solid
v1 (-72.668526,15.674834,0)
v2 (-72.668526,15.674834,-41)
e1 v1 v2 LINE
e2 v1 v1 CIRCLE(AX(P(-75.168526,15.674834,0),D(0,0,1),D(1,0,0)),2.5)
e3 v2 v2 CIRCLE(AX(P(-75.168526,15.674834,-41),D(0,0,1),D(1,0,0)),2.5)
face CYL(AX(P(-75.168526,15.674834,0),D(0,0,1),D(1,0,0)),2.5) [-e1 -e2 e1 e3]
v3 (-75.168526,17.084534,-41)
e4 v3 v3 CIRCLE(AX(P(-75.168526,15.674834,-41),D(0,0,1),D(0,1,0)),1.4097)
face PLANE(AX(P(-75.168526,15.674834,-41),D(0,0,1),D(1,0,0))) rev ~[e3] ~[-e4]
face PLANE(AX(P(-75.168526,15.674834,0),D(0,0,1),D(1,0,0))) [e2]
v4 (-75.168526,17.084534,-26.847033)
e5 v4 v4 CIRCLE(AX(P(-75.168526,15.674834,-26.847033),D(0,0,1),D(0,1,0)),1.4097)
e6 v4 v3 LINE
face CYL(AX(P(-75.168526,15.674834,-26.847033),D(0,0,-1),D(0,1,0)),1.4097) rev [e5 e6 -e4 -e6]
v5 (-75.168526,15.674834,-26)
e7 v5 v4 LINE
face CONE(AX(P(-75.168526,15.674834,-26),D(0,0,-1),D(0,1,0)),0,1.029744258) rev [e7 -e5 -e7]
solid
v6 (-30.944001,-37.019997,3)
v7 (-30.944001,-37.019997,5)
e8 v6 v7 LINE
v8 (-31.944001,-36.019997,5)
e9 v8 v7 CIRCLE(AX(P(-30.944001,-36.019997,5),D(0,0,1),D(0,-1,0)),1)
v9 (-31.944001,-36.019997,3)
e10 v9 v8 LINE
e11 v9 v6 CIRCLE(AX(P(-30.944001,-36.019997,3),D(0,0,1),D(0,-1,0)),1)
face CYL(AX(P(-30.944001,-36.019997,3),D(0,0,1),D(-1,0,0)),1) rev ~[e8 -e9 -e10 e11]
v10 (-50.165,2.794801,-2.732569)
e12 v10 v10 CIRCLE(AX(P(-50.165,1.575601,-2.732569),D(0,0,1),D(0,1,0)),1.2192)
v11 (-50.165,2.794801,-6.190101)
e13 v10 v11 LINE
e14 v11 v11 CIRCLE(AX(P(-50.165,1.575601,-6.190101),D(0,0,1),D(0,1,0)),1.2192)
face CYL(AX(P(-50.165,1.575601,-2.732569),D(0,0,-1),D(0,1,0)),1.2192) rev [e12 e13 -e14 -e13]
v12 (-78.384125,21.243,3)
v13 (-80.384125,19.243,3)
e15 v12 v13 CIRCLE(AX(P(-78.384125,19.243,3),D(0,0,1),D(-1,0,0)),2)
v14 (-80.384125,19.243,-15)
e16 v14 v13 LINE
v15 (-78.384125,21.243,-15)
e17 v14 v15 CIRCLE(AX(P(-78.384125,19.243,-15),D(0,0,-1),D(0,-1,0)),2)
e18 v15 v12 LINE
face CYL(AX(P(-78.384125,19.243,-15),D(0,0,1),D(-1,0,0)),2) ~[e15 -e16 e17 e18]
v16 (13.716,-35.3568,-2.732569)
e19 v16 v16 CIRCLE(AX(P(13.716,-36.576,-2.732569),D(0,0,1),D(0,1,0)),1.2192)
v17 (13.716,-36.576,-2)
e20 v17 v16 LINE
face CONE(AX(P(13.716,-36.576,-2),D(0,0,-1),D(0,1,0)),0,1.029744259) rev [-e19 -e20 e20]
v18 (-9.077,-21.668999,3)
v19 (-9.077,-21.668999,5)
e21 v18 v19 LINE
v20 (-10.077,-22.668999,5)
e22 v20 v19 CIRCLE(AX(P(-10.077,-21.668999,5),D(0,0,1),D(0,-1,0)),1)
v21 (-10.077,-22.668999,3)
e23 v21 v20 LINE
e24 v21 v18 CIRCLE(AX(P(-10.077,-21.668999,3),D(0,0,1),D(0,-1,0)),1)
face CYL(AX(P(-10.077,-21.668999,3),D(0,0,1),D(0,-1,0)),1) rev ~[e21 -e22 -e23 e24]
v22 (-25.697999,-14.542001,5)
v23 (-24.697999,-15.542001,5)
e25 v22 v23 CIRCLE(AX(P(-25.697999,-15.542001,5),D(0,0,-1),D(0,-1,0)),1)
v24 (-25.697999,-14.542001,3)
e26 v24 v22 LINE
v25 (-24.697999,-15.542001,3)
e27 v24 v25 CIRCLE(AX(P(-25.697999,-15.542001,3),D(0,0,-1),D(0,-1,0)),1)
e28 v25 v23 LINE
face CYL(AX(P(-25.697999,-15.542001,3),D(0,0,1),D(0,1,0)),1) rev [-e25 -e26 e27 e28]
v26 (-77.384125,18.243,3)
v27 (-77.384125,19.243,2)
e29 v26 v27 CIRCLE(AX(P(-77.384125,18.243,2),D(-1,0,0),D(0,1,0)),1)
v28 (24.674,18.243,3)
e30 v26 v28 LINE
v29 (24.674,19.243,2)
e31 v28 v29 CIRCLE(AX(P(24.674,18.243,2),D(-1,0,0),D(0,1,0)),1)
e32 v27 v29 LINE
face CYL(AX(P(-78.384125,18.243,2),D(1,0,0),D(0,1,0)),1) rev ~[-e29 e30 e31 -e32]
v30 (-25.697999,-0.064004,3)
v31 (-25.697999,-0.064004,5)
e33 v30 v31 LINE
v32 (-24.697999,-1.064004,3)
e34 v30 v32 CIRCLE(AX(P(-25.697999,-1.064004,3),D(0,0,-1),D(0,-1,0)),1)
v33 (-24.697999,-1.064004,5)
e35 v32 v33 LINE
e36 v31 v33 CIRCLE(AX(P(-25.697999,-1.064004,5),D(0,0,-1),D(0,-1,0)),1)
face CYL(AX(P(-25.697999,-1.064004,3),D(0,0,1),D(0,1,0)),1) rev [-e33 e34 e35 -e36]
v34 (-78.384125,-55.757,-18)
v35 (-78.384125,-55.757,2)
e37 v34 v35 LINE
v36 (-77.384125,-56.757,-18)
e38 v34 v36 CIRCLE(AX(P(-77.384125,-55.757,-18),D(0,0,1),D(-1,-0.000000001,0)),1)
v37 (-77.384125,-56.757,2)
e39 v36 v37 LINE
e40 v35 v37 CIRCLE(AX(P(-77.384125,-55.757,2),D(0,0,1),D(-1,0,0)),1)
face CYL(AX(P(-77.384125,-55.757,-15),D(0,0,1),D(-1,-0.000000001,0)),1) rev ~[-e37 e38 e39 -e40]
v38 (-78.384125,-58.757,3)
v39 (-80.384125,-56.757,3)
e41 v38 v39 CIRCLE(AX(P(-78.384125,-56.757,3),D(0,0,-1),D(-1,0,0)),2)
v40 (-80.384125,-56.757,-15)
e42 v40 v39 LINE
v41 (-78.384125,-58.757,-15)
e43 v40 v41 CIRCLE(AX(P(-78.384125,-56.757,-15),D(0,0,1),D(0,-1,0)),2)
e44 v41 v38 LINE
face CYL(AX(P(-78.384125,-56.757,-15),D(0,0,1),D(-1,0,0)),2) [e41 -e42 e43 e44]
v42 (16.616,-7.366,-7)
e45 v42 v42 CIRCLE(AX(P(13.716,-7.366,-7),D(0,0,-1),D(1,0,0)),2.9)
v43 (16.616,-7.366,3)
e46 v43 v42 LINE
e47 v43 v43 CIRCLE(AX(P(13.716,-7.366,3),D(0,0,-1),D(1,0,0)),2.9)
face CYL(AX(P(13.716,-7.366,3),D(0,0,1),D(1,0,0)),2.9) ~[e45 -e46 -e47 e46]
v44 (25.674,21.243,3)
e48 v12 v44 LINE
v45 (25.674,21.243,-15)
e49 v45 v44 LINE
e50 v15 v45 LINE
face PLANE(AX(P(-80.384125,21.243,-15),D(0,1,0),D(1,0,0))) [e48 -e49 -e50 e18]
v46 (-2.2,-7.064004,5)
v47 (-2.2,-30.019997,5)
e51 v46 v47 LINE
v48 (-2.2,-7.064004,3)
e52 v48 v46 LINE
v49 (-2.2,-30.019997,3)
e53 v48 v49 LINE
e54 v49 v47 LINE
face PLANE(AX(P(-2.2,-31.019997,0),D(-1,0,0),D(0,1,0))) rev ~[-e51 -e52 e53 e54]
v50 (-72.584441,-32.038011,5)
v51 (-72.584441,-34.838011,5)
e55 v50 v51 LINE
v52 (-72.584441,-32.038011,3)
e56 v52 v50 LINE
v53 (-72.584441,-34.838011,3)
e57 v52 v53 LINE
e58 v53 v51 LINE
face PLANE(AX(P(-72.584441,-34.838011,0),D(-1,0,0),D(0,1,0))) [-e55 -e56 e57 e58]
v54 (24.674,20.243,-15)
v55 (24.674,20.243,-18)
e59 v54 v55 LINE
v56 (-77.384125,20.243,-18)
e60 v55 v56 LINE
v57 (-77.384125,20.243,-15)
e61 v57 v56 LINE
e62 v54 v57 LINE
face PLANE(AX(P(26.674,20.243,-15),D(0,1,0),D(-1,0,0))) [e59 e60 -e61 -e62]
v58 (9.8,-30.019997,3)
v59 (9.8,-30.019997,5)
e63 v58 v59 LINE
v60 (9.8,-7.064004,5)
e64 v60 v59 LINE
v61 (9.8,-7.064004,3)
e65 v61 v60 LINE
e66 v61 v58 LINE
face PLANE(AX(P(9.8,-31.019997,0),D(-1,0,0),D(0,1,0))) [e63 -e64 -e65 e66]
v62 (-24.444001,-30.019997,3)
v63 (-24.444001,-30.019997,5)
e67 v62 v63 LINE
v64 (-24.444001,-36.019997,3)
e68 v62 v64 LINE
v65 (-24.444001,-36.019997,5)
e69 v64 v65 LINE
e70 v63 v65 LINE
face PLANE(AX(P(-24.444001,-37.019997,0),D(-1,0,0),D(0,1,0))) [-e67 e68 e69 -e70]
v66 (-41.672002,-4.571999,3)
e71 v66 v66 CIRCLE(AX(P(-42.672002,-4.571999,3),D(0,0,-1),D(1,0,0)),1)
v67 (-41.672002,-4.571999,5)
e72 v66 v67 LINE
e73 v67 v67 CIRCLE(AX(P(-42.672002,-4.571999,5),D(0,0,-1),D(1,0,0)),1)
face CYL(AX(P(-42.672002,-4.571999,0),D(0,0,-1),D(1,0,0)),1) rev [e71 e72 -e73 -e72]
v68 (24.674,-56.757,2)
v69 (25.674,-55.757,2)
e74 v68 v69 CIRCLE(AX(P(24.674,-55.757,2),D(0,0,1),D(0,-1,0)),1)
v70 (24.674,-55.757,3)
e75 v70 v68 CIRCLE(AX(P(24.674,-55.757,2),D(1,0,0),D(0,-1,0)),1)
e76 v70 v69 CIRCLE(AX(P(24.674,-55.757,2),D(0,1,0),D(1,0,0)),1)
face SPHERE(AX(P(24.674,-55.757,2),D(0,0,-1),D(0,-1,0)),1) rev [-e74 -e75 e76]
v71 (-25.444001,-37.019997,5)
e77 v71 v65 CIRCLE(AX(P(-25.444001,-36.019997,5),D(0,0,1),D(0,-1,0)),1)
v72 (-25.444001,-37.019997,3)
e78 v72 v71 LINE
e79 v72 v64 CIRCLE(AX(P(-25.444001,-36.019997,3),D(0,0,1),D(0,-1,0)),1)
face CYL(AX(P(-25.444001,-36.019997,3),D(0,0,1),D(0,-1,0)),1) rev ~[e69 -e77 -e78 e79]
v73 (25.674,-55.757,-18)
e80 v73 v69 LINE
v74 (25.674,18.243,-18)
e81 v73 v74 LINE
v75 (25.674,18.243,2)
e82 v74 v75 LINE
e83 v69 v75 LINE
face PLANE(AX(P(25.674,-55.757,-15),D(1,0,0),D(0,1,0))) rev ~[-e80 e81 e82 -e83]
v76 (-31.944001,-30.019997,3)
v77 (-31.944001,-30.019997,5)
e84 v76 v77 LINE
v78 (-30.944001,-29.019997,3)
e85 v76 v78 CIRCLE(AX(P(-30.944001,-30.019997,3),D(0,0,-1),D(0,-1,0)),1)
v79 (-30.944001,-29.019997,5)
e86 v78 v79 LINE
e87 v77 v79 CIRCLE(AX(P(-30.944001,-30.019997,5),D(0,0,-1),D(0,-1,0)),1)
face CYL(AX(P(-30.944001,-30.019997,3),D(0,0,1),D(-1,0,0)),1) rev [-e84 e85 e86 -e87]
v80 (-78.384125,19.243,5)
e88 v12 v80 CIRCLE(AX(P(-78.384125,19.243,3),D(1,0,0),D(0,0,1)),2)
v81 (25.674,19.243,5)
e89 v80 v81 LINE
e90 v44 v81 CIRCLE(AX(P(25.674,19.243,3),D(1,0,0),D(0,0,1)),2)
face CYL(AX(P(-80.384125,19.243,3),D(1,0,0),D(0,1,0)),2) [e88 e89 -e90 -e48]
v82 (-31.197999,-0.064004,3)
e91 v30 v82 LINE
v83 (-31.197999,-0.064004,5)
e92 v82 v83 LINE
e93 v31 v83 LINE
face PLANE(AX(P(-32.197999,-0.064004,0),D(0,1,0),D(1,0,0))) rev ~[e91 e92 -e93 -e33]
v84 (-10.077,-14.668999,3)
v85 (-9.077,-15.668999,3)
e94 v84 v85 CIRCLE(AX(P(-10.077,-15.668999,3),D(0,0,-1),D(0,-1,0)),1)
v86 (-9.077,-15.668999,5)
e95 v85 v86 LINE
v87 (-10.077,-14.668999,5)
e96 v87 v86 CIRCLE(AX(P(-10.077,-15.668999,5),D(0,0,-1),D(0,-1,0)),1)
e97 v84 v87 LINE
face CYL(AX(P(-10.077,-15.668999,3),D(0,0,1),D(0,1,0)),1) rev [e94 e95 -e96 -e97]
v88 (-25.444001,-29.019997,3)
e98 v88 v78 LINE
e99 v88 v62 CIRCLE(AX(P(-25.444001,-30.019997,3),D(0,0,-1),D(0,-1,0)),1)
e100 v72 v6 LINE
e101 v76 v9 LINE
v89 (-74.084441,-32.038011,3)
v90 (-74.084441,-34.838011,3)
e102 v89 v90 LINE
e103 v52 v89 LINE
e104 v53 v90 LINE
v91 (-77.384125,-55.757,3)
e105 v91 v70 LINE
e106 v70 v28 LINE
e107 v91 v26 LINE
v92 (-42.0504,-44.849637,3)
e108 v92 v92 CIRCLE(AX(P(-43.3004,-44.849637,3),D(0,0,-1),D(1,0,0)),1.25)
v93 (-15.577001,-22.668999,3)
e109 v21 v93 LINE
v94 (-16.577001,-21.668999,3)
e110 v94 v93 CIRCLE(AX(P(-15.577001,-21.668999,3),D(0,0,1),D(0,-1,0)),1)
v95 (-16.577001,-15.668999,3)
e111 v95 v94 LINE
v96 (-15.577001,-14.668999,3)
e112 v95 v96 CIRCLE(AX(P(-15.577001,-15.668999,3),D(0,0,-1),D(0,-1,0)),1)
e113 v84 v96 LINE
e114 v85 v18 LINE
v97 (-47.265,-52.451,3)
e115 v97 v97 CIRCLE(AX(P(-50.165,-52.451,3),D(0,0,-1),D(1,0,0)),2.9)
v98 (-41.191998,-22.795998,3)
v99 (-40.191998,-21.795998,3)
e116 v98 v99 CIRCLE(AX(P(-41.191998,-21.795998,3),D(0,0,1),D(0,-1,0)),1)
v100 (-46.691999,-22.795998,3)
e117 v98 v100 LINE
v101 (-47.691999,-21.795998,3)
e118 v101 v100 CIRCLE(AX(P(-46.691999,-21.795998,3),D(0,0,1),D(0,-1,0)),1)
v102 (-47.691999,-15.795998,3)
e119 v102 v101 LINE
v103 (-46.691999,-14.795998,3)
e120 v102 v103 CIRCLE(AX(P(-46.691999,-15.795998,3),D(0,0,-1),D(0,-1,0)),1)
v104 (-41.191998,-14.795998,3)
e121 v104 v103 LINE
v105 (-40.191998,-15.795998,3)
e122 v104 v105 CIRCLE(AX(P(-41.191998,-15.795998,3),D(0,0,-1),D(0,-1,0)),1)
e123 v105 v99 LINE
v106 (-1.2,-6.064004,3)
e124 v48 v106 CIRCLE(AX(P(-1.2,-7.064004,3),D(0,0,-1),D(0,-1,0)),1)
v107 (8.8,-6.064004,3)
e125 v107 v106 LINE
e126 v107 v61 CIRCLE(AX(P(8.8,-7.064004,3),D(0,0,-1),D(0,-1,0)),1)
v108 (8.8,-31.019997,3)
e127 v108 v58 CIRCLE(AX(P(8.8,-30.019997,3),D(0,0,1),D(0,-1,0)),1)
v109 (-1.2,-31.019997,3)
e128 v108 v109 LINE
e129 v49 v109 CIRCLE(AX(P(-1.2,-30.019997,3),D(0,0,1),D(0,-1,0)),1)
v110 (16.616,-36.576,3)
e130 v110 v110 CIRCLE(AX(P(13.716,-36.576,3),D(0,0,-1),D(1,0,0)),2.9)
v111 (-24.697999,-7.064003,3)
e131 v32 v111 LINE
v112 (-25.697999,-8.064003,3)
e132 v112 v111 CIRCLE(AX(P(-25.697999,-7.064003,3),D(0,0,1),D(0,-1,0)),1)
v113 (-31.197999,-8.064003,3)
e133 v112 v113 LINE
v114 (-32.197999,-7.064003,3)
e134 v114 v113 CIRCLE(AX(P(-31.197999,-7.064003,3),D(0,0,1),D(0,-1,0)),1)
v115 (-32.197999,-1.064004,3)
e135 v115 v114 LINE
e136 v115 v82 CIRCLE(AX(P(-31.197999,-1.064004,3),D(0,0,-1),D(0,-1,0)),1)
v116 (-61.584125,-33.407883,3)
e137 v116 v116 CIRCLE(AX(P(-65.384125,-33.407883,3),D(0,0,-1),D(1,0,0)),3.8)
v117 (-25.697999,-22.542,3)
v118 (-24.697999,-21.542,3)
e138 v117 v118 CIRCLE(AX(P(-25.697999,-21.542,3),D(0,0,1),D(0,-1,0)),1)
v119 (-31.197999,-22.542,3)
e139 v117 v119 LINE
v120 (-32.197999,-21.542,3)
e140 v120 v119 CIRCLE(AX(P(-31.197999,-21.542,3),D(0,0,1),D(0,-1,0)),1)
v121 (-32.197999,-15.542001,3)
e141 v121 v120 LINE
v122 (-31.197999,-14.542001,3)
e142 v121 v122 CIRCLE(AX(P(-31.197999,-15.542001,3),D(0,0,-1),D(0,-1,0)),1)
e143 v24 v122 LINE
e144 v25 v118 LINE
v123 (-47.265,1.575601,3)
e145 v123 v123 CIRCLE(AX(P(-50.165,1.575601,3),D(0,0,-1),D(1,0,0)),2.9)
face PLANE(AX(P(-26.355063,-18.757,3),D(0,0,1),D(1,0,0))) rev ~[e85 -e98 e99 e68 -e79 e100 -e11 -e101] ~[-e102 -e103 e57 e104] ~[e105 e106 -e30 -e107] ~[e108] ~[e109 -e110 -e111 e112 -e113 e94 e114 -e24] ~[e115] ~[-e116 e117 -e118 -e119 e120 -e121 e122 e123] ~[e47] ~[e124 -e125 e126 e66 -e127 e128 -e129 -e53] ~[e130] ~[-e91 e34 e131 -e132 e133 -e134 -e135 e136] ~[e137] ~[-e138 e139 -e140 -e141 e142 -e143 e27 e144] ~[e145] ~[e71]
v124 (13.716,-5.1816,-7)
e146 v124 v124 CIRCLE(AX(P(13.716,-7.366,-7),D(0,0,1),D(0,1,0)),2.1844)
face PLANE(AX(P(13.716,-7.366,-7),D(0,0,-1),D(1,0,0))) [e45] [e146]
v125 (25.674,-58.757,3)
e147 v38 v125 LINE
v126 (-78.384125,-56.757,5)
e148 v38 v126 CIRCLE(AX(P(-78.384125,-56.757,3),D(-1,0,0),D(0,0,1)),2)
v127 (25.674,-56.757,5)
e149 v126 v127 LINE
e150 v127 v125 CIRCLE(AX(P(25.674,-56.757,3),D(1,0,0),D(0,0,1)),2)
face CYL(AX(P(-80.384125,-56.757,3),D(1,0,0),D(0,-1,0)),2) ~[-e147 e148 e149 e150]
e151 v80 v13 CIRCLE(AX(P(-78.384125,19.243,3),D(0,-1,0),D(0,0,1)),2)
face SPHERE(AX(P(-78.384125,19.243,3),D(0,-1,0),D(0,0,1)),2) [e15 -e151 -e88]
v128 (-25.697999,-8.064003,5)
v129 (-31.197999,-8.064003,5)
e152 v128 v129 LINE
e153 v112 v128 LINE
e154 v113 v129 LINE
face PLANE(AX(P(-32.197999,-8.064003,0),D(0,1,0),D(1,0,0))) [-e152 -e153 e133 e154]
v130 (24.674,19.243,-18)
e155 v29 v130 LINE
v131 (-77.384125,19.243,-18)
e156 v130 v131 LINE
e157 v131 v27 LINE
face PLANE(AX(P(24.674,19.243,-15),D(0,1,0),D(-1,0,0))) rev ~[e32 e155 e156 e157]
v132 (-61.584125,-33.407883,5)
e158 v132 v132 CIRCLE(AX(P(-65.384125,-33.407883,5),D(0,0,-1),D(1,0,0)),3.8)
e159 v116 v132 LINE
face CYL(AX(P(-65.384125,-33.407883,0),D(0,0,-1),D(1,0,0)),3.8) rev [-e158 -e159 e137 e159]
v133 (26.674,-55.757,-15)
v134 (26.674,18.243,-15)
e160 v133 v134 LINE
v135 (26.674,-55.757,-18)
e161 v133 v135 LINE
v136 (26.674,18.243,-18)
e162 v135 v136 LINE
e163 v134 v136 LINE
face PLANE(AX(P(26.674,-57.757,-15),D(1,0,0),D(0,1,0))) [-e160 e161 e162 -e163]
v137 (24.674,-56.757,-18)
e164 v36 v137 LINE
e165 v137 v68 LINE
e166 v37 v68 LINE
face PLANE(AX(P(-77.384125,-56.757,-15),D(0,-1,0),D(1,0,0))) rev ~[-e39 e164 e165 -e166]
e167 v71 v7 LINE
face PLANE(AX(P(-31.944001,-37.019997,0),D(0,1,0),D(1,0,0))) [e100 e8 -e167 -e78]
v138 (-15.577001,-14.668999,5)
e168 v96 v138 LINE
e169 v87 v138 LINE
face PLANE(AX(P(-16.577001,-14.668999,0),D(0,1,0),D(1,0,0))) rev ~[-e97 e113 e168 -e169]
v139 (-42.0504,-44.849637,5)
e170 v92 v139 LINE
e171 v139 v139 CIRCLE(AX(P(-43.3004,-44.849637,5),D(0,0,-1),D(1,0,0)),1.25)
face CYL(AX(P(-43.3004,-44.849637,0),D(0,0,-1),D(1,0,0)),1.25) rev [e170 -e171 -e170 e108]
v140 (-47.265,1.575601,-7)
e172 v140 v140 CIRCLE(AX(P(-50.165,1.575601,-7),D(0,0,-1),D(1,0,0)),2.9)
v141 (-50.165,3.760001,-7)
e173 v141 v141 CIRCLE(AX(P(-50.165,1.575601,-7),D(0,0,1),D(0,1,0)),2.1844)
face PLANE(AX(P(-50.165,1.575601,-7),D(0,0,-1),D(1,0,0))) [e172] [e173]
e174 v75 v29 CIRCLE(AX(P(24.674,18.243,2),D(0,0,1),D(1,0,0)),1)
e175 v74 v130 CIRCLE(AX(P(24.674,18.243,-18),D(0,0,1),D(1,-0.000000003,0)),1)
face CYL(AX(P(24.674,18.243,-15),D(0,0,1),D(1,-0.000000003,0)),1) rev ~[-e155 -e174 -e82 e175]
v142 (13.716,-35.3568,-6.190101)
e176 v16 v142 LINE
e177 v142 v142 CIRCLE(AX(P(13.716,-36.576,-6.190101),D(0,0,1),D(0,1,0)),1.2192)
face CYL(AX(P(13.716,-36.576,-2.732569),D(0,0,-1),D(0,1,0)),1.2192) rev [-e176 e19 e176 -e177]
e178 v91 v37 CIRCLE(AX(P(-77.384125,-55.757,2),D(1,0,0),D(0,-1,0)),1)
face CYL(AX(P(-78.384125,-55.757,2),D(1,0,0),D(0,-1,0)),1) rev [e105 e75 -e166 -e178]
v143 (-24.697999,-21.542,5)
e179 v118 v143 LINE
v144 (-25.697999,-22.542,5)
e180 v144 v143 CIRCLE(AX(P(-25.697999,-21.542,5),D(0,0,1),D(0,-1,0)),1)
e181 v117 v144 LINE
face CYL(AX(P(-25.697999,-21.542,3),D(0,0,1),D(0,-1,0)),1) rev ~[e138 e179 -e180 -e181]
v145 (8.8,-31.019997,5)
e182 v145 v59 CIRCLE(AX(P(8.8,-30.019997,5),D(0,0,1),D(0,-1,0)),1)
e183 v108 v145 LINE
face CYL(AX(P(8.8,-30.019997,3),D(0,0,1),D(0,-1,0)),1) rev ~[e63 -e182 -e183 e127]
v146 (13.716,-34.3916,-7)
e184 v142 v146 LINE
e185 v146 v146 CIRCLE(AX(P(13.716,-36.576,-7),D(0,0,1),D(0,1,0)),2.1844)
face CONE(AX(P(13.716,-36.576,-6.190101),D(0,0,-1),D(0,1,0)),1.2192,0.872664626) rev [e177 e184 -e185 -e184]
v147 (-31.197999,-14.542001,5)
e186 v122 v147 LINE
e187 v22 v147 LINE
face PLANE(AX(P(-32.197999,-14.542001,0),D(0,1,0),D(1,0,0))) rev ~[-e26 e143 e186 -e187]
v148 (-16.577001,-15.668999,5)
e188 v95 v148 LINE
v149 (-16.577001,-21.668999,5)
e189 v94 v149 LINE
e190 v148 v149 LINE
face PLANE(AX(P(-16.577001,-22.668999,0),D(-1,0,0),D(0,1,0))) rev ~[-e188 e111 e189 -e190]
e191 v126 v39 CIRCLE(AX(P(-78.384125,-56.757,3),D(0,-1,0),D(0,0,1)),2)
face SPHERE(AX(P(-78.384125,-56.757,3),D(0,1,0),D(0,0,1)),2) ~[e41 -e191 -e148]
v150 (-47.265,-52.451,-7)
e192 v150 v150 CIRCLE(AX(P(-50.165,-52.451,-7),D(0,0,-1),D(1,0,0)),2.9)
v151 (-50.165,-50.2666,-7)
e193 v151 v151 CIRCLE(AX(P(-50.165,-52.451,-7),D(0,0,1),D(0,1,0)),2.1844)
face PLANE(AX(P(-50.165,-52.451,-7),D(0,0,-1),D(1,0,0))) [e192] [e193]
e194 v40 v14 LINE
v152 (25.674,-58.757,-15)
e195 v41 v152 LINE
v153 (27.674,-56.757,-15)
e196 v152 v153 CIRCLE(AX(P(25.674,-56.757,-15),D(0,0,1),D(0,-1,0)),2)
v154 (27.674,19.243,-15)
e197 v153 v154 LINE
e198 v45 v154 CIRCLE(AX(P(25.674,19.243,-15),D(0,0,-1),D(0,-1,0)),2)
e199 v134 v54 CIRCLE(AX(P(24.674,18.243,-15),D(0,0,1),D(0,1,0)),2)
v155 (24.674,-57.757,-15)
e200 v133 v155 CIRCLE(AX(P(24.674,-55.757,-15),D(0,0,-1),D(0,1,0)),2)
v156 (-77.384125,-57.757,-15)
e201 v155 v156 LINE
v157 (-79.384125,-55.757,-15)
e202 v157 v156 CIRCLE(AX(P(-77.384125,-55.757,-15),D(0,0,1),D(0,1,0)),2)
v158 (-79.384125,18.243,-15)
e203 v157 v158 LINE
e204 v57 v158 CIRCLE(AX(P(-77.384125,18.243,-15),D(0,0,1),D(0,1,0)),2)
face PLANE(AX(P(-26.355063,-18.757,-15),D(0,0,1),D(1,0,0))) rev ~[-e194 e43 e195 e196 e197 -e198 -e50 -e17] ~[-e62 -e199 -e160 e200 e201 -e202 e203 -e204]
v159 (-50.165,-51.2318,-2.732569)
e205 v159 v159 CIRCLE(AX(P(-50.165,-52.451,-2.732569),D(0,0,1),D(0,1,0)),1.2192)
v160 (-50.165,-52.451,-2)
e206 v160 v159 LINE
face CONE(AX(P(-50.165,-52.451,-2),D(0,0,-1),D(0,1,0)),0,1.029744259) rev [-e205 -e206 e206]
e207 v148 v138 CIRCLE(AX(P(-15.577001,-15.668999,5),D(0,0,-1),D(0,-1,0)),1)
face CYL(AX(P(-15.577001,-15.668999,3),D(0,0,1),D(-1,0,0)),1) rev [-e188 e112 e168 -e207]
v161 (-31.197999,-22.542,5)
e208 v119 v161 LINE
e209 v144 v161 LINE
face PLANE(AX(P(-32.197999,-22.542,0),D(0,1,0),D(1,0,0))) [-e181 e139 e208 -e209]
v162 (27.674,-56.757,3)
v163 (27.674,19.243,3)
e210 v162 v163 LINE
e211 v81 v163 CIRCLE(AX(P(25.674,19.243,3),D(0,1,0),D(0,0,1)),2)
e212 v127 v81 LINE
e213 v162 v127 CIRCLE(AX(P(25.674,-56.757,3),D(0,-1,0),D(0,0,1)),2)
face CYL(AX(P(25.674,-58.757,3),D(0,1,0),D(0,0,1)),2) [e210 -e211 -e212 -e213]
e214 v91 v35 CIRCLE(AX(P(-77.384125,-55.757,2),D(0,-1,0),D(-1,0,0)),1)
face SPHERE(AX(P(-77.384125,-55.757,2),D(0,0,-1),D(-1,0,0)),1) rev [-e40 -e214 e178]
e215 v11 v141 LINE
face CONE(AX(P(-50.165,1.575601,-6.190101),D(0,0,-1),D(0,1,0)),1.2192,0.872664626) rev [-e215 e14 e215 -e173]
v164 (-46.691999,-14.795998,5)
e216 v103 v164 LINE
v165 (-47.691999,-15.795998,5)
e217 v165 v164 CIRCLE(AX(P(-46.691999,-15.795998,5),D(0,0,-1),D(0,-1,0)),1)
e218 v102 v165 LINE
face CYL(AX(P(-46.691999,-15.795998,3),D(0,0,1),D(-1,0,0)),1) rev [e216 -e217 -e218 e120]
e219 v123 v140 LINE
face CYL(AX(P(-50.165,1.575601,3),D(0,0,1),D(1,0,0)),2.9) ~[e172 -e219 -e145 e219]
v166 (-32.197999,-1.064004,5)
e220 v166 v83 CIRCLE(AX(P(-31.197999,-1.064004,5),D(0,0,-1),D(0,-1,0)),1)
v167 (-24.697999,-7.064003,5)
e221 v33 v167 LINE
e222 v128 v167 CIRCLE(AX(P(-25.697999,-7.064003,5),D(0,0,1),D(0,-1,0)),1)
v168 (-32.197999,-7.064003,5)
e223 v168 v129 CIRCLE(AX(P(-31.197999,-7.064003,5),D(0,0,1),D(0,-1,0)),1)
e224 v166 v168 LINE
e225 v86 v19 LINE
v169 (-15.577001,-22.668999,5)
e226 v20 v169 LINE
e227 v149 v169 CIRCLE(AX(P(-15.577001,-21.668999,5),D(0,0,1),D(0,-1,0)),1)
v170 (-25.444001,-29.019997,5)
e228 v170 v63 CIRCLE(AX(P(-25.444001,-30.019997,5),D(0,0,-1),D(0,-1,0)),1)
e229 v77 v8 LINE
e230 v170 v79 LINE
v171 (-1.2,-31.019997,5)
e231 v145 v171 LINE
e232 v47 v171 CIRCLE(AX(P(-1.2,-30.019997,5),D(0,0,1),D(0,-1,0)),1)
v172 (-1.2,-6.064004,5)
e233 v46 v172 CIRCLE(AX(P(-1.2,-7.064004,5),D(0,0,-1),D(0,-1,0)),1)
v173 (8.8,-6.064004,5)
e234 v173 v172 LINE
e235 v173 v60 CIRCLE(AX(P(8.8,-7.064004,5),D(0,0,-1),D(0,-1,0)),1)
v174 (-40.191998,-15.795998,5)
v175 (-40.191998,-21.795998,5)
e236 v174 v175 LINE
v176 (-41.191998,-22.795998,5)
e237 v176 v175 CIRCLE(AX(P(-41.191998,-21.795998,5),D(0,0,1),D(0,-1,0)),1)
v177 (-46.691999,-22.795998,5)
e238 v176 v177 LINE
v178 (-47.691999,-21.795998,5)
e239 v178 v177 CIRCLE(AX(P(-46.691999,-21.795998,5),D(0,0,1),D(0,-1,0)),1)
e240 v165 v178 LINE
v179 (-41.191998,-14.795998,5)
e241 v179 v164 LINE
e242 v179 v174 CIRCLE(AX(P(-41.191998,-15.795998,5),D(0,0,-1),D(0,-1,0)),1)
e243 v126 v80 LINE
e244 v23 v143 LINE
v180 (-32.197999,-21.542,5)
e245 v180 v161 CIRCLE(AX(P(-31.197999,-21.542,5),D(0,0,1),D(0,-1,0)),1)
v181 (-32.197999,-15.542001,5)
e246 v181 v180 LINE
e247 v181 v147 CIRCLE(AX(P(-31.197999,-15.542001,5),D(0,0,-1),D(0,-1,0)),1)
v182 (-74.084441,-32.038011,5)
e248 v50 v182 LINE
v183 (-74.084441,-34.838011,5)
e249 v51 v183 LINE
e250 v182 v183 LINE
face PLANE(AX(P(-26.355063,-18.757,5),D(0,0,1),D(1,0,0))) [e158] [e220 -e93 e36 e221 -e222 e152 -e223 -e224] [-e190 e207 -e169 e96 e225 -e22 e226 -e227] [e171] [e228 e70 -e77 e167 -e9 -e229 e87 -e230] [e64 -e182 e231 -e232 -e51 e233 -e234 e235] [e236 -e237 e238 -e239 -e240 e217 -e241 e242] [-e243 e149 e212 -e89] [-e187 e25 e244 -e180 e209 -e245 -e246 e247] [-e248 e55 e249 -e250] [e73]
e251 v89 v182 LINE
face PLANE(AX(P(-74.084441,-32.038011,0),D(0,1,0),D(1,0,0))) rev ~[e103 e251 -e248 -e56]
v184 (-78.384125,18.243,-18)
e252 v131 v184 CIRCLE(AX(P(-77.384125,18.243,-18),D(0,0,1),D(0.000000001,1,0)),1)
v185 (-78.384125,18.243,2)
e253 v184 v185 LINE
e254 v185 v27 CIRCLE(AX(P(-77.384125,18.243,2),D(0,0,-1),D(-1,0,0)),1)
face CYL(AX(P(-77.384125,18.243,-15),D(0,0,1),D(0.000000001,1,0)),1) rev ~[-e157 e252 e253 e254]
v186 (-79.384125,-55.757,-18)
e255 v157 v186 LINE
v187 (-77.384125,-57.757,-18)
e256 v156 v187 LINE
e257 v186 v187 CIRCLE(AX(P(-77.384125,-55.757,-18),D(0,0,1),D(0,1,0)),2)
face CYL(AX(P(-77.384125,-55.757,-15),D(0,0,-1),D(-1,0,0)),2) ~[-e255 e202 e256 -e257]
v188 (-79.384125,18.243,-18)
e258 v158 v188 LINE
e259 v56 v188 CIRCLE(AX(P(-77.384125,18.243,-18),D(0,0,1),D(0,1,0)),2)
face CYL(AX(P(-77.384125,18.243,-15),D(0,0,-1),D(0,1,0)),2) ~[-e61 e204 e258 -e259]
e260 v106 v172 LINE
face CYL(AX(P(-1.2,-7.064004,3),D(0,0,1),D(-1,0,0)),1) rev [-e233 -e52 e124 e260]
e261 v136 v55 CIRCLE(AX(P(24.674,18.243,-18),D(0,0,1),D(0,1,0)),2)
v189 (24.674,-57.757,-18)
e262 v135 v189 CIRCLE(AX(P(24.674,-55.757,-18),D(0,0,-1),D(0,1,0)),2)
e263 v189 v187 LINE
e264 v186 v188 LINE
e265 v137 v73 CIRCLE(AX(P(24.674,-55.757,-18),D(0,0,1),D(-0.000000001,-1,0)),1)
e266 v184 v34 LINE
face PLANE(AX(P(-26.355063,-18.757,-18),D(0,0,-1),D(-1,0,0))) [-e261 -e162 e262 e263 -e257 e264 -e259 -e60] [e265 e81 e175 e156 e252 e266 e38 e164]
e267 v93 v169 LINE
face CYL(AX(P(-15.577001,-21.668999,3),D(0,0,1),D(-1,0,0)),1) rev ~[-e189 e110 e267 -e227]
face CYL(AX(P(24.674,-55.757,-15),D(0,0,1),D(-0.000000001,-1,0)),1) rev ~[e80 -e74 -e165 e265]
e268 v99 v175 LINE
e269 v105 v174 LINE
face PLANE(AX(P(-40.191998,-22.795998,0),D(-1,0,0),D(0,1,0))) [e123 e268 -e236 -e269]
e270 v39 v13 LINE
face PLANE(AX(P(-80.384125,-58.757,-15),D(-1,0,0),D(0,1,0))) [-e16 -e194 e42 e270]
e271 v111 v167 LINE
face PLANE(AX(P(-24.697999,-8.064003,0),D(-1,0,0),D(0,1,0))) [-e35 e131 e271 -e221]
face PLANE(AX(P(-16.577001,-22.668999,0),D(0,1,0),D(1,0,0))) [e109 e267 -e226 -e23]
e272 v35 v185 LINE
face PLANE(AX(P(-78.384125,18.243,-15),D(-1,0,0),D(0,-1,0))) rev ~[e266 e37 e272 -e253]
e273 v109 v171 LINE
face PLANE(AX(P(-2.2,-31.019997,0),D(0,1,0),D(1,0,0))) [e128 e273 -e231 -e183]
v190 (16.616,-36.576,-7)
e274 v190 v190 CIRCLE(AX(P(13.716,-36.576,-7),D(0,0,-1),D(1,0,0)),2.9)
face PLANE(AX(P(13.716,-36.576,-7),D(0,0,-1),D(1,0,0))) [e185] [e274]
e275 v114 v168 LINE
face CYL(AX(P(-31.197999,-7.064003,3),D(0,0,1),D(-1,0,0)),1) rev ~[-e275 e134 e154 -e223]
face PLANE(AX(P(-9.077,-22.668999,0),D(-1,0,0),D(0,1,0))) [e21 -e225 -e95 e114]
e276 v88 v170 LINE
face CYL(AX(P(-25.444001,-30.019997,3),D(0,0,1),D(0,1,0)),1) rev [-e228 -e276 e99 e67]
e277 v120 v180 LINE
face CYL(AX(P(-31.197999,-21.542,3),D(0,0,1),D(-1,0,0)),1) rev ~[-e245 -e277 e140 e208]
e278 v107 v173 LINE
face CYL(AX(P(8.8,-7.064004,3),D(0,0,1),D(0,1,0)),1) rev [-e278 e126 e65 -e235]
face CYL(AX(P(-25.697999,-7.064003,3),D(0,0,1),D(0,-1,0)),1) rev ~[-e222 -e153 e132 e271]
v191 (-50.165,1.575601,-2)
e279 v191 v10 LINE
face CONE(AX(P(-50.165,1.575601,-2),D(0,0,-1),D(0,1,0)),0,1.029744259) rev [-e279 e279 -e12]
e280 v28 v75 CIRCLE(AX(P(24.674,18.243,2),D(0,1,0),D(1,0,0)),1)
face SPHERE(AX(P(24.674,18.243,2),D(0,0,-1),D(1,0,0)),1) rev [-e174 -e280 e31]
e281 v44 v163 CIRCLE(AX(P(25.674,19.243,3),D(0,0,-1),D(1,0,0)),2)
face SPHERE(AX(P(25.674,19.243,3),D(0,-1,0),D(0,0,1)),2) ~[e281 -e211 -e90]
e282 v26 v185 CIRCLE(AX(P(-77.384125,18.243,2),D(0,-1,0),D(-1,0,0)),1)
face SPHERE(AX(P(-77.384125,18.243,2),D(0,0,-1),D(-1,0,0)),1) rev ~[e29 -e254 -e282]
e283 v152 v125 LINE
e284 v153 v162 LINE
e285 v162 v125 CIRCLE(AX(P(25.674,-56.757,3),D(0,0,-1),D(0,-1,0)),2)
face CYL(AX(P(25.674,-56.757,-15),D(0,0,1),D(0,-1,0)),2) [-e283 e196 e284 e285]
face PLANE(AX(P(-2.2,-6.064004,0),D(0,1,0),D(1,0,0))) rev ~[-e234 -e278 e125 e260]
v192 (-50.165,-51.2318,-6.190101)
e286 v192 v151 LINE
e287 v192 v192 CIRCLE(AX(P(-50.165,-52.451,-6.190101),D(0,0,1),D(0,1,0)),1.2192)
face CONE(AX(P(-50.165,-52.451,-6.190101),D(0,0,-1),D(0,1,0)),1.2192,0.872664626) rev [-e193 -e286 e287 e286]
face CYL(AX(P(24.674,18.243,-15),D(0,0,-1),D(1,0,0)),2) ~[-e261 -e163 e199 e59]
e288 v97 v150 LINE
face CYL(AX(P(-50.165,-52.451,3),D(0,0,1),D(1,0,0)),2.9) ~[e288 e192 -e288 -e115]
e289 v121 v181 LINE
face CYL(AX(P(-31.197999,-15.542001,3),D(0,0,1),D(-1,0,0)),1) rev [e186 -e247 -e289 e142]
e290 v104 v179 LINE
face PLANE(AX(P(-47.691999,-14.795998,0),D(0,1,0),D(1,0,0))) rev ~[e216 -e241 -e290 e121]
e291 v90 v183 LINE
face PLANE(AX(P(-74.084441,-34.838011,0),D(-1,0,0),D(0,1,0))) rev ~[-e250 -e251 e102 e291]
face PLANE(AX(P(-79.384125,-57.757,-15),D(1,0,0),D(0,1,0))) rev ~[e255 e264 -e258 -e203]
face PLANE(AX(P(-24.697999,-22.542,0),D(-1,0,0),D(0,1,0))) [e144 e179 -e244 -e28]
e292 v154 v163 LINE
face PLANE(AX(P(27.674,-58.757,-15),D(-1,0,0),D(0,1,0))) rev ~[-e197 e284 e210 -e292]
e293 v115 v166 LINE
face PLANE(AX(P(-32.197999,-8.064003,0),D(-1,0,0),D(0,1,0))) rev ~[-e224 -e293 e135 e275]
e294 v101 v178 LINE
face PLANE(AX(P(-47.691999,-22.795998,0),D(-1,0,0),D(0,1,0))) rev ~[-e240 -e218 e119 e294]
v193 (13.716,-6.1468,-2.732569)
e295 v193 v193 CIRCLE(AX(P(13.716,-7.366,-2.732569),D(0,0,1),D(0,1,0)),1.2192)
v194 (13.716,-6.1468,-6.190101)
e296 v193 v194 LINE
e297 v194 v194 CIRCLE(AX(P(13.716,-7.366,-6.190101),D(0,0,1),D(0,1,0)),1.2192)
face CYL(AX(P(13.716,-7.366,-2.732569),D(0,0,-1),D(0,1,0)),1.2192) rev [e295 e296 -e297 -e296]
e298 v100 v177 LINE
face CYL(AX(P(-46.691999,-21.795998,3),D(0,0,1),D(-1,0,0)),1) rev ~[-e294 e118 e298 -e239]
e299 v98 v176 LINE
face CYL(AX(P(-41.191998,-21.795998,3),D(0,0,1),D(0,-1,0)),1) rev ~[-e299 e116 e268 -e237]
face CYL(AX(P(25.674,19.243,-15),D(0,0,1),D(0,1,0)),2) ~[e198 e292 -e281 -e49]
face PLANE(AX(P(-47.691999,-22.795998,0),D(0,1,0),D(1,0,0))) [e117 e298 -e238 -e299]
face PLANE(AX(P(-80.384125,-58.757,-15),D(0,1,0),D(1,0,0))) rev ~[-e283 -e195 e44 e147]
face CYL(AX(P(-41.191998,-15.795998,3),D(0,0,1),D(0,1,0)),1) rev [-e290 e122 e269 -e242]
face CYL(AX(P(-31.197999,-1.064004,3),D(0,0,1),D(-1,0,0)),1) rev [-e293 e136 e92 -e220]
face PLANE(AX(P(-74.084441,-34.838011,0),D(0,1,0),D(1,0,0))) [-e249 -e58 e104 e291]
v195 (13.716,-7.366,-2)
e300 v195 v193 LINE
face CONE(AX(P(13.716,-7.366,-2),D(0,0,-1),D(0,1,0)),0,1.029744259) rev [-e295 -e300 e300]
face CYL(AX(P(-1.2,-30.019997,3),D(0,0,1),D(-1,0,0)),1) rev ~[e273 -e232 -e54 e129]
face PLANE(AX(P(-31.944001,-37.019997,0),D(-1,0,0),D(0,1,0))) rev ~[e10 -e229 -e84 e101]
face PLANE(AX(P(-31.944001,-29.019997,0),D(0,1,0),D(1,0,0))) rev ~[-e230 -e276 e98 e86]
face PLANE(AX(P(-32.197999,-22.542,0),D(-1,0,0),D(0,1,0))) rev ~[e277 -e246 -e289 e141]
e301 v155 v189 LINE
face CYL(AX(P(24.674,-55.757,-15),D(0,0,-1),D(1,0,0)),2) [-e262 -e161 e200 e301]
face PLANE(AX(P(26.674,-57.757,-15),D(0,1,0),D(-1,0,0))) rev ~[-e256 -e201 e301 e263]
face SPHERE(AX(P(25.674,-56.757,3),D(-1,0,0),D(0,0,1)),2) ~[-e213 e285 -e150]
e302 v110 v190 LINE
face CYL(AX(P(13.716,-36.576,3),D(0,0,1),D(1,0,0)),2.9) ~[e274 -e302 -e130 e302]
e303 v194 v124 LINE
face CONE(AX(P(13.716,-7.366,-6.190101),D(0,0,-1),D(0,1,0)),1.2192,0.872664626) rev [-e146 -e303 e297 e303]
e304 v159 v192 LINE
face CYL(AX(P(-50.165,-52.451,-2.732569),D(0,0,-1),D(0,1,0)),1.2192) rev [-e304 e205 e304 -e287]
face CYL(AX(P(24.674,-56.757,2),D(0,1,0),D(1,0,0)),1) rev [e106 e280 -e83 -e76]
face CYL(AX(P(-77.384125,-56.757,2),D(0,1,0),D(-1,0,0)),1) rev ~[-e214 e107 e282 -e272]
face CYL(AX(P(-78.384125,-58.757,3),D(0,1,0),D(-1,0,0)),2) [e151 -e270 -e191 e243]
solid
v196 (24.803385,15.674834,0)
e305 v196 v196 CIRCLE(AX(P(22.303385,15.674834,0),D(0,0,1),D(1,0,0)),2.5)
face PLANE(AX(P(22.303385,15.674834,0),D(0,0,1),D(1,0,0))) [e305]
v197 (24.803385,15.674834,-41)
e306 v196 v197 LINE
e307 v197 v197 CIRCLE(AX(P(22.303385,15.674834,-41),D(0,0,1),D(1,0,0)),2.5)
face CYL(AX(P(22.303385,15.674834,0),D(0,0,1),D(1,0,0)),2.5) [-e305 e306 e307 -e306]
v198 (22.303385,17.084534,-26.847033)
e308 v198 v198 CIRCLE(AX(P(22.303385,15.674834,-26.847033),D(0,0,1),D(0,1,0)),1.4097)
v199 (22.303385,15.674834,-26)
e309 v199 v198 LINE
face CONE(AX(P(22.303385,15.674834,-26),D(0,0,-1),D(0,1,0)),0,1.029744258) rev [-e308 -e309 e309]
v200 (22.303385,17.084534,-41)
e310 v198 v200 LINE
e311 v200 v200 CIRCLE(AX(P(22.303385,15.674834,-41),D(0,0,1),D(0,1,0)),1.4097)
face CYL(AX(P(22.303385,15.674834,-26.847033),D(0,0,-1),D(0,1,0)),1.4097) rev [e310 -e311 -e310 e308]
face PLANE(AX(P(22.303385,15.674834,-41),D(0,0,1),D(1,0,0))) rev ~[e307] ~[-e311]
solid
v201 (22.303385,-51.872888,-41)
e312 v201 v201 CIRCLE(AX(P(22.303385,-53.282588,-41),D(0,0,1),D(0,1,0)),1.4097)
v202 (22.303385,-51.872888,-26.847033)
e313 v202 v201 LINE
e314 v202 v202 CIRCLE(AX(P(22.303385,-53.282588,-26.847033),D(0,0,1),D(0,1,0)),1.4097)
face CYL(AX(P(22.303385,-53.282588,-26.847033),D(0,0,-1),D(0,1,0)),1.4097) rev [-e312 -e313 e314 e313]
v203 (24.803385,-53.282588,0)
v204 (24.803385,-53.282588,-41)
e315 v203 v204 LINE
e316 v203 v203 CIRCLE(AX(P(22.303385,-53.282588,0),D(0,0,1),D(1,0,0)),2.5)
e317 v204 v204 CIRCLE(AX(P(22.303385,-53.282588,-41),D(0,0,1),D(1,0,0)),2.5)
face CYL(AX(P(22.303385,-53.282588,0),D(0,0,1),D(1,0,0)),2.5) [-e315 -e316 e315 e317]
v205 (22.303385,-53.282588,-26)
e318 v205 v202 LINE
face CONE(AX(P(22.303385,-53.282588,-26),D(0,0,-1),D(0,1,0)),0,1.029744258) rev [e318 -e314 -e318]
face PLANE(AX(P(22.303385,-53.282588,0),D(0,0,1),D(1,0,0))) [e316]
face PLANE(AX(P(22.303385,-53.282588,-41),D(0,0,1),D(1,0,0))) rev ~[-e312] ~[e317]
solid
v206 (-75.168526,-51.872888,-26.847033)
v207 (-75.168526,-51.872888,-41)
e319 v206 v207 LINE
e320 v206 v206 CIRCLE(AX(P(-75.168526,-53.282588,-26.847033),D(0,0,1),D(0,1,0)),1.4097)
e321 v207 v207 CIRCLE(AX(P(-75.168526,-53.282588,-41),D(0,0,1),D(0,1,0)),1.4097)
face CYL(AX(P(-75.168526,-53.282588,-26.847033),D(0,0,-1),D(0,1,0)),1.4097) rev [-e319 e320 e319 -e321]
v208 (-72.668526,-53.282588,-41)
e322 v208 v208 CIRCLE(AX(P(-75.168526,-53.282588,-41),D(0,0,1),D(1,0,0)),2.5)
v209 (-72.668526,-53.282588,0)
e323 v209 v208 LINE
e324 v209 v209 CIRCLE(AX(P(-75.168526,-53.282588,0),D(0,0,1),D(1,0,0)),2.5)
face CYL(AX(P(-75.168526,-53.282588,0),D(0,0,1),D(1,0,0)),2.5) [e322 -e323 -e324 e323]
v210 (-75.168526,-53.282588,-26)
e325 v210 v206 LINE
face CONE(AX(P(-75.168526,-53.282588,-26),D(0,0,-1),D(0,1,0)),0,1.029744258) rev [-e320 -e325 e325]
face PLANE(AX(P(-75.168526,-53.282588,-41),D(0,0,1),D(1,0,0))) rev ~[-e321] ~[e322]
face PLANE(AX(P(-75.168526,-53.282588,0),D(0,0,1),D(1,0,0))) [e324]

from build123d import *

# Parameters (mm, degrees)
BOSS_EXTRUDE1_DEPTH                       = 5
BOSS_EXTRUDE1_DEPTH_BACK                  = 15
SKETCH2_W                                 = 108.058124592
SKETCH2_H                                 = 80
SHELL4_T                                  = -2
SKETCH1_R                                 = 1
SKETCH1_R_2                               = 3.8
SKETCH1_W                                 = 7.5000007
SKETCH1_H                                 = 7.999999344
SKETCH1_W_2                               = 7.50000035
SKETCH1_H_2                               = 7.999999672
SKETCH1_H_3                               = 7.999999673
SKETCH1_W_3                               = 12
SKETCH1_H_4                               = 24.955992996
SKETCH1_W_4                               = 1.5
SKETCH1_H_5                               = 2.8
CUT_EXTRUDE1_DEPTH                        = 10
FILLET2_R                                 = 2
FILLET3_R                                 = 1
SKETCH5_R                                 = 2.5
BOSS_EXTRUDE3_DEPTH                       = 41
BOSS_EXTRUDE3_2_DEPTH                     = 41
BOSS_EXTRUDE3_3_DEPTH                     = 41
BOSS_EXTRUDE3_4_DEPTH                     = 41
SKETCH6_R                                 = 1.25
CUT_EXTRUDE2_DEPTH                        = 108.680047108
SKETCH7_W                                 = 106.058124592
SKETCH7_H                                 = 78
BOSS_EXTRUDE4_DEPTH                       = 3
F_34_0_111_DIAMETER_HOLE1_AT_2_COUNT      = 2
F_34_0_111_DIAMETER_HOLE1_AT_2_PITCH      = 97.471911114
F_34_0_111_DIAMETER_HOLE1_AT_3_COUNT      = 2
F_34_0_111_DIAMETER_HOLE1_AT_3_PITCH      = 119.398071447
F_34_0_111_DIAMETER_HOLE1_AT_4_COUNT      = 2
F_34_0_111_DIAMETER_HOLE1_AT_4_PITCH      = 68.957421711
SKETCH11_R                                = 2.9
BOSS_EXTRUDE5_DEPTH                       = 10
CSK_FOR_2_FLAT_HEAD_MACHINE_SCREW_2_COUNT = 2
CSK_FOR_2_FLAT_HEAD_MACHINE_SCREW_2_PITCH = 29.21
CSK_FOR_2_FLAT_HEAD_MACHINE_SCREW_3_COUNT = 2
CSK_FOR_2_FLAT_HEAD_MACHINE_SCREW_3_PITCH = 78.188486275
CSK_FOR_2_FLAT_HEAD_MACHINE_SCREW_4_COUNT = 2
CSK_FOR_2_FLAT_HEAD_MACHINE_SCREW_4_PITCH = 64.503754884
FILLET4_R                                 = 1
FILLET5_R                                 = 2


with BuildPart() as part:
    # Sketch2 → Boss-Extrude1 (new, two sides: drawn at the far end of the back side and taken through both)
    with BuildSketch(Plane.XY.offset(-BOSS_EXTRUDE1_DEPTH_BACK)):
        with Locations((-26.35506251, -18.756999791)):
            Rectangle(SKETCH2_W, SKETCH2_H)
    extrude(amount=BOSS_EXTRUDE1_DEPTH + BOSS_EXTRUDE1_DEPTH_BACK)

    # Shell4
    shell4_openings = [part.faces().sort_by_distance(p)[0] for p in [
        (-26.35506251, -18.756999791, -15),
    ]]
    offset(amount=SHELL4_T, openings=shell4_openings, kind=Kind.INTERSECTION)

    # Sketch1 → Cut-Extrude1 (cut)
    with BuildSketch(Plane.XY):
        with Locations((-42.67200177, -4.571998962)):
            Circle(SKETCH1_R)
        with Locations((-65.384124806, -33.407883165)):
            Circle(SKETCH1_R_2)
        with Locations((-28.194001129, -33.019997009)):
            Rectangle(SKETCH1_W, SKETCH1_H)
        with Locations((-28.447998932, -4.064003357)):
            Rectangle(SKETCH1_W, SKETCH1_H)
        with Locations((-28.447998932, -18.542000183)):
            Rectangle(SKETCH1_W, SKETCH1_H)
        with Locations((-43.941998413, -18.795997986)):
            Rectangle(SKETCH1_W_2, SKETCH1_H_2)
        with Locations((-12.827000549, -18.668999085)):
            Rectangle(SKETCH1_W_2, SKETCH1_H_3)
        with Locations((3.8, -18.542000183)):
            Rectangle(SKETCH1_W_3, SKETCH1_H_4)
        with Locations((-73.334440798, -33.438010953)):
            Rectangle(SKETCH1_W_4, SKETCH1_H_5)
    extrude(amount=CUT_EXTRUDE1_DEPTH, mode=Mode.SUBTRACT)

    # Fillet2
    fillet2_edges = [part.edges().sort_by_distance(p)[0] for p in [
        (-80.384124806, -18.756999791, 5),
        (-26.35506251, -58.756999791, 5),
        (27.673999786, -18.756999791, 5),
        (-26.35506251, 21.243000209, 5),
        (-80.384124806, 21.243000209, -5),
        (27.673999786, 21.243000209, -5),
        (27.673999786, -58.756999791, -5),
        (-80.384124806, -58.756999791, -5),
    ]]
    fillet(fillet2_edges, radius=FILLET2_R)

    # Fillet3
    fillet3_edges = [part.edges().sort_by_distance(p)[0] for p in [
        (-78.384124806, -56.756999791, -6),
        (-78.384124806, 19.243000209, -6),
        (25.673999786, 19.243000209, -6),
        (25.673999786, -56.756999791, -6),
        (-78.384124806, -18.756999791, 3),
        (-26.35506251, -56.756999791, 3),
        (25.673999786, -18.756999791, 3),
        (-26.35506251, 19.243000209, 3),
    ]]
    fillet(fillet3_edges, radius=FILLET3_R)

    # Sketch6 → Cut-Extrude2 (cut, through all)
    with BuildSketch(Plane.XY):
        with Locations((-43.300399836, -44.849637416)):
            Circle(SKETCH6_R)
    extrude(amount=CUT_EXTRUDE2_DEPTH, mode=Mode.SUBTRACT)

    # Sketch7 → Boss-Extrude4 (add)
    with BuildSketch(Plane(origin=(0, 0, -15), x_dir=(-1, 0, 0), z_dir=(0, 0, -1))):
        with Locations((26.35506251, -18.756999791)):
            Rectangle(SKETCH7_W, SKETCH7_H)
        with BuildLine():
            Line((-24.673999786, 19.243000209), (77.384124806, 19.243000209))
            ThreePointArc((77.384124806, 19.243000209), (78.091231587, 18.950106991), (78.384124806, 18.243000209))
            Line((78.384124806, 18.243000209), (78.384124806, -55.756999791))
            ThreePointArc((78.384124806, -55.756999791), (78.091231587, -56.464106572), (77.384124806, -56.756999791))
            Line((77.384124806, -56.756999791), (-24.673999786, -56.756999791))
            ThreePointArc((-24.673999786, -56.756999791), (-25.381106568, -56.464106572), (-25.673999786, -55.756999791))
            Line((-25.673999786, -55.756999791), (-25.673999786, 18.243000209))
            ThreePointArc((-25.673999786, 18.243000209), (-25.381106568, 18.950106991), (-24.673999786, 19.243000209))
        make_face(mode=Mode.SUBTRACT)
    extrude(amount=BOSS_EXTRUDE4_DEPTH)

    # Sketch11 → Boss-Extrude5 (add)
    with BuildSketch(Plane(origin=(0, 0, 3), x_dir=(-1, 0, 0), z_dir=(0, 0, -1))):
        with Locations(Location((50.165, 1.575601264, 0), (0, 0, 180))):
            Circle(SKETCH11_R)
        with Locations(Location((50.165, -52.451, 0), (0, 0, 180))):
            Circle(SKETCH11_R)
        with Locations(Location((-13.716, -7.366, 0), (0, 0, 180))):
            Circle(SKETCH11_R)
        with Locations(Location((-13.716, -36.576, 0), (0, 0, 180))):
            Circle(SKETCH11_R)
    extrude(amount=BOSS_EXTRUDE5_DEPTH)

    # Sketch12 → CSK for #2 Flat Head Machine Screw (100)1 (revolve, cut)
    with BuildSketch(Plane(origin=(13.716, -7.366, -7), x_dir=(0, 1, 0), z_dir=(1, 0, 0))):
        Polygon((0, 0), (0, 5), (1.2192, 4.267430733), (1.2192, 0.809898964), (2.1844, 0), align=None)
    csk_for_2_flat_head_machine_screw_100 = revolve(axis=Axis((13.716, -7.366, -13.35), (0, 0, 1)), mode=Mode.SUBTRACT)

    # CSK for _2 Flat Head Machine Screw _ 2: CSK for #2 Flat Head Machine Screw (100)1 ×2
    with Locations(*[(0, -i * CSK_FOR_2_FLAT_HEAD_MACHINE_SCREW_2_PITCH, 0) for i in range(1, CSK_FOR_2_FLAT_HEAD_MACHINE_SCREW_2_COUNT)]):
        add(csk_for_2_flat_head_machine_screw_100, mode=Mode.SUBTRACT)

    # CSK for _2 Flat Head Machine Screw _ 3: CSK for #2 Flat Head Machine Screw (100)1 ×2
    with Locations(*[Vector(-0.8170128754660291, -0.5766194250306964, 0) * (i * CSK_FOR_2_FLAT_HEAD_MACHINE_SCREW_3_PITCH) for i in range(1, CSK_FOR_2_FLAT_HEAD_MACHINE_SCREW_3_COUNT)]):
        add(csk_for_2_flat_head_machine_screw_100, mode=Mode.SUBTRACT)

    # CSK for _2 Flat Head Machine Screw _ 4: CSK for #2 Flat Head Machine Screw (100)1 ×2
    with Locations(*[Vector(-0.9903454475576021, 0.13862140708394505, 0) * (i * CSK_FOR_2_FLAT_HEAD_MACHINE_SCREW_4_PITCH) for i in range(1, CSK_FOR_2_FLAT_HEAD_MACHINE_SCREW_4_COUNT)]):
        add(csk_for_2_flat_head_machine_screw_100, mode=Mode.SUBTRACT)

    # Fillet4
    fillet4_edges = [part.edges().sort_by_distance(p)[0] for p in [
        (-32.197999282, -0.064003685, 4),
        (-32.197999282, -8.064003029, 4),
        (-24.697998582, -8.064003029, 4),
        (-24.697998582, -0.064003685, 4),
        (-31.944001479, -29.019997337, 4),
        (-31.944001479, -37.019996681, 4),
        (-24.444000779, -37.019996681, 4),
        (-24.444000779, -29.019997337, 4),
        (-32.197999282, -14.542000511, 4),
        (-32.197999282, -22.541999855, 4),
        (-24.697998582, -22.541999855, 4),
        (-24.697998582, -14.542000511, 4),
        (-47.691998588, -14.79599815, 4),
        (-47.691998588, -22.795997822, 4),
        (-40.191998238, -22.795997822, 4),
        (-40.191998238, -14.79599815, 4),
        (-16.577000724, -14.668999248, 4),
        (-16.577000724, -22.668998921, 4),
        (-9.077000374, -22.668998921, 4),
        (-9.077000374, -14.668999248, 4),
        (-2.2, -6.064003685, 4),
        (-2.2, -31.019996681, 4),
        (9.8, -31.019996681, 4),
        (9.8, -6.064003685, 4),
    ]]
    fillet(fillet4_edges, radius=FILLET4_R)

    # Fillet5
    fillet5_edges = [part.edges().sort_by_distance(p)[0] for p in [
        (26.673999786, 20.243000209, -16.5),
        (26.673999786, -57.756999791, -16.5),
        (-79.384124806, -57.756999791, -16.5),
        (-79.384124806, 20.243000209, -16.5),
    ]]
    fillet(fillet5_edges, radius=FILLET5_R)


with BuildPart() as body_2:
    # Sketch5 → Boss-Extrude3 (new body)
    with BuildSketch(Plane.XY):
        with Locations((22.303384668, 15.674834124)):
            Circle(SKETCH5_R)
    extrude(amount=-BOSS_EXTRUDE3_DEPTH)


with BuildPart() as body_3:
    # Sketch5 → Boss-Extrude3 2 (new body)
    with BuildSketch(Plane.XY):
        with Locations((-75.168526445, 15.674834124)):
            Circle(SKETCH5_R)
    extrude(amount=-BOSS_EXTRUDE3_2_DEPTH)


with BuildPart() as body_4:
    # Sketch5 → Boss-Extrude3 3 (new body)
    with BuildSketch(Plane.XY):
        with Locations((-75.168526445, -53.282587587)):
            Circle(SKETCH5_R)
    extrude(amount=-BOSS_EXTRUDE3_3_DEPTH)


with BuildPart() as body_5:
    # Sketch5 → Boss-Extrude3 4 (new body)
    with BuildSketch(Plane.XY):
        with Locations((22.303384668, -53.282587587)):
            Circle(SKETCH5_R)
    extrude(amount=-BOSS_EXTRUDE3_4_DEPTH)

    # Sketch9 → #34 (0.111) Diameter Hole1 (revolve, cut)
    with BuildSketch(Plane(origin=(22.303384668, -53.282587587, -41), x_dir=(0, 1, 0), z_dir=(1, 0, 0))):
        Polygon((0, 0), (0, 15), (1.4097, 14.152966785), (1.4097, 0), align=None)
    f_34_0_111_diameter_hole1 = revolve(axis=Axis((22.303384668, -53.282587587, -47.35), (0, 0, 1)), mode=Mode.SUBTRACT)


with BuildPart() as body_4_1:
    add(body_4.part)

    # #34 (0.111) Diameter Hole1 at 2: #34 (0.111) Diameter Hole1 ×2
    with Locations(*[(-i * F_34_0_111_DIAMETER_HOLE1_AT_2_PITCH, 0, 0) for i in range(1, F_34_0_111_DIAMETER_HOLE1_AT_2_COUNT)]):
        add(f_34_0_111_diameter_hole1, mode=Mode.SUBTRACT)


with BuildPart() as body_3_1:
    add(body_3.part)

    # #34 (0.111) Diameter Hole1 at 3: #34 (0.111) Diameter Hole1 ×2
    with Locations(*[Vector(-0.8163608501603499, 0.5775421736336411, 0) * (i * F_34_0_111_DIAMETER_HOLE1_AT_3_PITCH) for i in range(1, F_34_0_111_DIAMETER_HOLE1_AT_3_COUNT)]):
        add(f_34_0_111_diameter_hole1, mode=Mode.SUBTRACT)


with BuildPart() as body_2_1:
    add(body_2.part)

    # #34 (0.111) Diameter Hole1 at 4: #34 (0.111) Diameter Hole1 ×2
    with Locations(*[(0, i * F_34_0_111_DIAMETER_HOLE1_AT_4_PITCH, 0) for i in range(1, F_34_0_111_DIAMETER_HOLE1_AT_4_COUNT)]):
        add(f_34_0_111_diameter_hole1, mode=Mode.SUBTRACT)


solid = Compound([part.part, body_5.part, body_4_1.part, body_3_1.part, body_2_1.part])
